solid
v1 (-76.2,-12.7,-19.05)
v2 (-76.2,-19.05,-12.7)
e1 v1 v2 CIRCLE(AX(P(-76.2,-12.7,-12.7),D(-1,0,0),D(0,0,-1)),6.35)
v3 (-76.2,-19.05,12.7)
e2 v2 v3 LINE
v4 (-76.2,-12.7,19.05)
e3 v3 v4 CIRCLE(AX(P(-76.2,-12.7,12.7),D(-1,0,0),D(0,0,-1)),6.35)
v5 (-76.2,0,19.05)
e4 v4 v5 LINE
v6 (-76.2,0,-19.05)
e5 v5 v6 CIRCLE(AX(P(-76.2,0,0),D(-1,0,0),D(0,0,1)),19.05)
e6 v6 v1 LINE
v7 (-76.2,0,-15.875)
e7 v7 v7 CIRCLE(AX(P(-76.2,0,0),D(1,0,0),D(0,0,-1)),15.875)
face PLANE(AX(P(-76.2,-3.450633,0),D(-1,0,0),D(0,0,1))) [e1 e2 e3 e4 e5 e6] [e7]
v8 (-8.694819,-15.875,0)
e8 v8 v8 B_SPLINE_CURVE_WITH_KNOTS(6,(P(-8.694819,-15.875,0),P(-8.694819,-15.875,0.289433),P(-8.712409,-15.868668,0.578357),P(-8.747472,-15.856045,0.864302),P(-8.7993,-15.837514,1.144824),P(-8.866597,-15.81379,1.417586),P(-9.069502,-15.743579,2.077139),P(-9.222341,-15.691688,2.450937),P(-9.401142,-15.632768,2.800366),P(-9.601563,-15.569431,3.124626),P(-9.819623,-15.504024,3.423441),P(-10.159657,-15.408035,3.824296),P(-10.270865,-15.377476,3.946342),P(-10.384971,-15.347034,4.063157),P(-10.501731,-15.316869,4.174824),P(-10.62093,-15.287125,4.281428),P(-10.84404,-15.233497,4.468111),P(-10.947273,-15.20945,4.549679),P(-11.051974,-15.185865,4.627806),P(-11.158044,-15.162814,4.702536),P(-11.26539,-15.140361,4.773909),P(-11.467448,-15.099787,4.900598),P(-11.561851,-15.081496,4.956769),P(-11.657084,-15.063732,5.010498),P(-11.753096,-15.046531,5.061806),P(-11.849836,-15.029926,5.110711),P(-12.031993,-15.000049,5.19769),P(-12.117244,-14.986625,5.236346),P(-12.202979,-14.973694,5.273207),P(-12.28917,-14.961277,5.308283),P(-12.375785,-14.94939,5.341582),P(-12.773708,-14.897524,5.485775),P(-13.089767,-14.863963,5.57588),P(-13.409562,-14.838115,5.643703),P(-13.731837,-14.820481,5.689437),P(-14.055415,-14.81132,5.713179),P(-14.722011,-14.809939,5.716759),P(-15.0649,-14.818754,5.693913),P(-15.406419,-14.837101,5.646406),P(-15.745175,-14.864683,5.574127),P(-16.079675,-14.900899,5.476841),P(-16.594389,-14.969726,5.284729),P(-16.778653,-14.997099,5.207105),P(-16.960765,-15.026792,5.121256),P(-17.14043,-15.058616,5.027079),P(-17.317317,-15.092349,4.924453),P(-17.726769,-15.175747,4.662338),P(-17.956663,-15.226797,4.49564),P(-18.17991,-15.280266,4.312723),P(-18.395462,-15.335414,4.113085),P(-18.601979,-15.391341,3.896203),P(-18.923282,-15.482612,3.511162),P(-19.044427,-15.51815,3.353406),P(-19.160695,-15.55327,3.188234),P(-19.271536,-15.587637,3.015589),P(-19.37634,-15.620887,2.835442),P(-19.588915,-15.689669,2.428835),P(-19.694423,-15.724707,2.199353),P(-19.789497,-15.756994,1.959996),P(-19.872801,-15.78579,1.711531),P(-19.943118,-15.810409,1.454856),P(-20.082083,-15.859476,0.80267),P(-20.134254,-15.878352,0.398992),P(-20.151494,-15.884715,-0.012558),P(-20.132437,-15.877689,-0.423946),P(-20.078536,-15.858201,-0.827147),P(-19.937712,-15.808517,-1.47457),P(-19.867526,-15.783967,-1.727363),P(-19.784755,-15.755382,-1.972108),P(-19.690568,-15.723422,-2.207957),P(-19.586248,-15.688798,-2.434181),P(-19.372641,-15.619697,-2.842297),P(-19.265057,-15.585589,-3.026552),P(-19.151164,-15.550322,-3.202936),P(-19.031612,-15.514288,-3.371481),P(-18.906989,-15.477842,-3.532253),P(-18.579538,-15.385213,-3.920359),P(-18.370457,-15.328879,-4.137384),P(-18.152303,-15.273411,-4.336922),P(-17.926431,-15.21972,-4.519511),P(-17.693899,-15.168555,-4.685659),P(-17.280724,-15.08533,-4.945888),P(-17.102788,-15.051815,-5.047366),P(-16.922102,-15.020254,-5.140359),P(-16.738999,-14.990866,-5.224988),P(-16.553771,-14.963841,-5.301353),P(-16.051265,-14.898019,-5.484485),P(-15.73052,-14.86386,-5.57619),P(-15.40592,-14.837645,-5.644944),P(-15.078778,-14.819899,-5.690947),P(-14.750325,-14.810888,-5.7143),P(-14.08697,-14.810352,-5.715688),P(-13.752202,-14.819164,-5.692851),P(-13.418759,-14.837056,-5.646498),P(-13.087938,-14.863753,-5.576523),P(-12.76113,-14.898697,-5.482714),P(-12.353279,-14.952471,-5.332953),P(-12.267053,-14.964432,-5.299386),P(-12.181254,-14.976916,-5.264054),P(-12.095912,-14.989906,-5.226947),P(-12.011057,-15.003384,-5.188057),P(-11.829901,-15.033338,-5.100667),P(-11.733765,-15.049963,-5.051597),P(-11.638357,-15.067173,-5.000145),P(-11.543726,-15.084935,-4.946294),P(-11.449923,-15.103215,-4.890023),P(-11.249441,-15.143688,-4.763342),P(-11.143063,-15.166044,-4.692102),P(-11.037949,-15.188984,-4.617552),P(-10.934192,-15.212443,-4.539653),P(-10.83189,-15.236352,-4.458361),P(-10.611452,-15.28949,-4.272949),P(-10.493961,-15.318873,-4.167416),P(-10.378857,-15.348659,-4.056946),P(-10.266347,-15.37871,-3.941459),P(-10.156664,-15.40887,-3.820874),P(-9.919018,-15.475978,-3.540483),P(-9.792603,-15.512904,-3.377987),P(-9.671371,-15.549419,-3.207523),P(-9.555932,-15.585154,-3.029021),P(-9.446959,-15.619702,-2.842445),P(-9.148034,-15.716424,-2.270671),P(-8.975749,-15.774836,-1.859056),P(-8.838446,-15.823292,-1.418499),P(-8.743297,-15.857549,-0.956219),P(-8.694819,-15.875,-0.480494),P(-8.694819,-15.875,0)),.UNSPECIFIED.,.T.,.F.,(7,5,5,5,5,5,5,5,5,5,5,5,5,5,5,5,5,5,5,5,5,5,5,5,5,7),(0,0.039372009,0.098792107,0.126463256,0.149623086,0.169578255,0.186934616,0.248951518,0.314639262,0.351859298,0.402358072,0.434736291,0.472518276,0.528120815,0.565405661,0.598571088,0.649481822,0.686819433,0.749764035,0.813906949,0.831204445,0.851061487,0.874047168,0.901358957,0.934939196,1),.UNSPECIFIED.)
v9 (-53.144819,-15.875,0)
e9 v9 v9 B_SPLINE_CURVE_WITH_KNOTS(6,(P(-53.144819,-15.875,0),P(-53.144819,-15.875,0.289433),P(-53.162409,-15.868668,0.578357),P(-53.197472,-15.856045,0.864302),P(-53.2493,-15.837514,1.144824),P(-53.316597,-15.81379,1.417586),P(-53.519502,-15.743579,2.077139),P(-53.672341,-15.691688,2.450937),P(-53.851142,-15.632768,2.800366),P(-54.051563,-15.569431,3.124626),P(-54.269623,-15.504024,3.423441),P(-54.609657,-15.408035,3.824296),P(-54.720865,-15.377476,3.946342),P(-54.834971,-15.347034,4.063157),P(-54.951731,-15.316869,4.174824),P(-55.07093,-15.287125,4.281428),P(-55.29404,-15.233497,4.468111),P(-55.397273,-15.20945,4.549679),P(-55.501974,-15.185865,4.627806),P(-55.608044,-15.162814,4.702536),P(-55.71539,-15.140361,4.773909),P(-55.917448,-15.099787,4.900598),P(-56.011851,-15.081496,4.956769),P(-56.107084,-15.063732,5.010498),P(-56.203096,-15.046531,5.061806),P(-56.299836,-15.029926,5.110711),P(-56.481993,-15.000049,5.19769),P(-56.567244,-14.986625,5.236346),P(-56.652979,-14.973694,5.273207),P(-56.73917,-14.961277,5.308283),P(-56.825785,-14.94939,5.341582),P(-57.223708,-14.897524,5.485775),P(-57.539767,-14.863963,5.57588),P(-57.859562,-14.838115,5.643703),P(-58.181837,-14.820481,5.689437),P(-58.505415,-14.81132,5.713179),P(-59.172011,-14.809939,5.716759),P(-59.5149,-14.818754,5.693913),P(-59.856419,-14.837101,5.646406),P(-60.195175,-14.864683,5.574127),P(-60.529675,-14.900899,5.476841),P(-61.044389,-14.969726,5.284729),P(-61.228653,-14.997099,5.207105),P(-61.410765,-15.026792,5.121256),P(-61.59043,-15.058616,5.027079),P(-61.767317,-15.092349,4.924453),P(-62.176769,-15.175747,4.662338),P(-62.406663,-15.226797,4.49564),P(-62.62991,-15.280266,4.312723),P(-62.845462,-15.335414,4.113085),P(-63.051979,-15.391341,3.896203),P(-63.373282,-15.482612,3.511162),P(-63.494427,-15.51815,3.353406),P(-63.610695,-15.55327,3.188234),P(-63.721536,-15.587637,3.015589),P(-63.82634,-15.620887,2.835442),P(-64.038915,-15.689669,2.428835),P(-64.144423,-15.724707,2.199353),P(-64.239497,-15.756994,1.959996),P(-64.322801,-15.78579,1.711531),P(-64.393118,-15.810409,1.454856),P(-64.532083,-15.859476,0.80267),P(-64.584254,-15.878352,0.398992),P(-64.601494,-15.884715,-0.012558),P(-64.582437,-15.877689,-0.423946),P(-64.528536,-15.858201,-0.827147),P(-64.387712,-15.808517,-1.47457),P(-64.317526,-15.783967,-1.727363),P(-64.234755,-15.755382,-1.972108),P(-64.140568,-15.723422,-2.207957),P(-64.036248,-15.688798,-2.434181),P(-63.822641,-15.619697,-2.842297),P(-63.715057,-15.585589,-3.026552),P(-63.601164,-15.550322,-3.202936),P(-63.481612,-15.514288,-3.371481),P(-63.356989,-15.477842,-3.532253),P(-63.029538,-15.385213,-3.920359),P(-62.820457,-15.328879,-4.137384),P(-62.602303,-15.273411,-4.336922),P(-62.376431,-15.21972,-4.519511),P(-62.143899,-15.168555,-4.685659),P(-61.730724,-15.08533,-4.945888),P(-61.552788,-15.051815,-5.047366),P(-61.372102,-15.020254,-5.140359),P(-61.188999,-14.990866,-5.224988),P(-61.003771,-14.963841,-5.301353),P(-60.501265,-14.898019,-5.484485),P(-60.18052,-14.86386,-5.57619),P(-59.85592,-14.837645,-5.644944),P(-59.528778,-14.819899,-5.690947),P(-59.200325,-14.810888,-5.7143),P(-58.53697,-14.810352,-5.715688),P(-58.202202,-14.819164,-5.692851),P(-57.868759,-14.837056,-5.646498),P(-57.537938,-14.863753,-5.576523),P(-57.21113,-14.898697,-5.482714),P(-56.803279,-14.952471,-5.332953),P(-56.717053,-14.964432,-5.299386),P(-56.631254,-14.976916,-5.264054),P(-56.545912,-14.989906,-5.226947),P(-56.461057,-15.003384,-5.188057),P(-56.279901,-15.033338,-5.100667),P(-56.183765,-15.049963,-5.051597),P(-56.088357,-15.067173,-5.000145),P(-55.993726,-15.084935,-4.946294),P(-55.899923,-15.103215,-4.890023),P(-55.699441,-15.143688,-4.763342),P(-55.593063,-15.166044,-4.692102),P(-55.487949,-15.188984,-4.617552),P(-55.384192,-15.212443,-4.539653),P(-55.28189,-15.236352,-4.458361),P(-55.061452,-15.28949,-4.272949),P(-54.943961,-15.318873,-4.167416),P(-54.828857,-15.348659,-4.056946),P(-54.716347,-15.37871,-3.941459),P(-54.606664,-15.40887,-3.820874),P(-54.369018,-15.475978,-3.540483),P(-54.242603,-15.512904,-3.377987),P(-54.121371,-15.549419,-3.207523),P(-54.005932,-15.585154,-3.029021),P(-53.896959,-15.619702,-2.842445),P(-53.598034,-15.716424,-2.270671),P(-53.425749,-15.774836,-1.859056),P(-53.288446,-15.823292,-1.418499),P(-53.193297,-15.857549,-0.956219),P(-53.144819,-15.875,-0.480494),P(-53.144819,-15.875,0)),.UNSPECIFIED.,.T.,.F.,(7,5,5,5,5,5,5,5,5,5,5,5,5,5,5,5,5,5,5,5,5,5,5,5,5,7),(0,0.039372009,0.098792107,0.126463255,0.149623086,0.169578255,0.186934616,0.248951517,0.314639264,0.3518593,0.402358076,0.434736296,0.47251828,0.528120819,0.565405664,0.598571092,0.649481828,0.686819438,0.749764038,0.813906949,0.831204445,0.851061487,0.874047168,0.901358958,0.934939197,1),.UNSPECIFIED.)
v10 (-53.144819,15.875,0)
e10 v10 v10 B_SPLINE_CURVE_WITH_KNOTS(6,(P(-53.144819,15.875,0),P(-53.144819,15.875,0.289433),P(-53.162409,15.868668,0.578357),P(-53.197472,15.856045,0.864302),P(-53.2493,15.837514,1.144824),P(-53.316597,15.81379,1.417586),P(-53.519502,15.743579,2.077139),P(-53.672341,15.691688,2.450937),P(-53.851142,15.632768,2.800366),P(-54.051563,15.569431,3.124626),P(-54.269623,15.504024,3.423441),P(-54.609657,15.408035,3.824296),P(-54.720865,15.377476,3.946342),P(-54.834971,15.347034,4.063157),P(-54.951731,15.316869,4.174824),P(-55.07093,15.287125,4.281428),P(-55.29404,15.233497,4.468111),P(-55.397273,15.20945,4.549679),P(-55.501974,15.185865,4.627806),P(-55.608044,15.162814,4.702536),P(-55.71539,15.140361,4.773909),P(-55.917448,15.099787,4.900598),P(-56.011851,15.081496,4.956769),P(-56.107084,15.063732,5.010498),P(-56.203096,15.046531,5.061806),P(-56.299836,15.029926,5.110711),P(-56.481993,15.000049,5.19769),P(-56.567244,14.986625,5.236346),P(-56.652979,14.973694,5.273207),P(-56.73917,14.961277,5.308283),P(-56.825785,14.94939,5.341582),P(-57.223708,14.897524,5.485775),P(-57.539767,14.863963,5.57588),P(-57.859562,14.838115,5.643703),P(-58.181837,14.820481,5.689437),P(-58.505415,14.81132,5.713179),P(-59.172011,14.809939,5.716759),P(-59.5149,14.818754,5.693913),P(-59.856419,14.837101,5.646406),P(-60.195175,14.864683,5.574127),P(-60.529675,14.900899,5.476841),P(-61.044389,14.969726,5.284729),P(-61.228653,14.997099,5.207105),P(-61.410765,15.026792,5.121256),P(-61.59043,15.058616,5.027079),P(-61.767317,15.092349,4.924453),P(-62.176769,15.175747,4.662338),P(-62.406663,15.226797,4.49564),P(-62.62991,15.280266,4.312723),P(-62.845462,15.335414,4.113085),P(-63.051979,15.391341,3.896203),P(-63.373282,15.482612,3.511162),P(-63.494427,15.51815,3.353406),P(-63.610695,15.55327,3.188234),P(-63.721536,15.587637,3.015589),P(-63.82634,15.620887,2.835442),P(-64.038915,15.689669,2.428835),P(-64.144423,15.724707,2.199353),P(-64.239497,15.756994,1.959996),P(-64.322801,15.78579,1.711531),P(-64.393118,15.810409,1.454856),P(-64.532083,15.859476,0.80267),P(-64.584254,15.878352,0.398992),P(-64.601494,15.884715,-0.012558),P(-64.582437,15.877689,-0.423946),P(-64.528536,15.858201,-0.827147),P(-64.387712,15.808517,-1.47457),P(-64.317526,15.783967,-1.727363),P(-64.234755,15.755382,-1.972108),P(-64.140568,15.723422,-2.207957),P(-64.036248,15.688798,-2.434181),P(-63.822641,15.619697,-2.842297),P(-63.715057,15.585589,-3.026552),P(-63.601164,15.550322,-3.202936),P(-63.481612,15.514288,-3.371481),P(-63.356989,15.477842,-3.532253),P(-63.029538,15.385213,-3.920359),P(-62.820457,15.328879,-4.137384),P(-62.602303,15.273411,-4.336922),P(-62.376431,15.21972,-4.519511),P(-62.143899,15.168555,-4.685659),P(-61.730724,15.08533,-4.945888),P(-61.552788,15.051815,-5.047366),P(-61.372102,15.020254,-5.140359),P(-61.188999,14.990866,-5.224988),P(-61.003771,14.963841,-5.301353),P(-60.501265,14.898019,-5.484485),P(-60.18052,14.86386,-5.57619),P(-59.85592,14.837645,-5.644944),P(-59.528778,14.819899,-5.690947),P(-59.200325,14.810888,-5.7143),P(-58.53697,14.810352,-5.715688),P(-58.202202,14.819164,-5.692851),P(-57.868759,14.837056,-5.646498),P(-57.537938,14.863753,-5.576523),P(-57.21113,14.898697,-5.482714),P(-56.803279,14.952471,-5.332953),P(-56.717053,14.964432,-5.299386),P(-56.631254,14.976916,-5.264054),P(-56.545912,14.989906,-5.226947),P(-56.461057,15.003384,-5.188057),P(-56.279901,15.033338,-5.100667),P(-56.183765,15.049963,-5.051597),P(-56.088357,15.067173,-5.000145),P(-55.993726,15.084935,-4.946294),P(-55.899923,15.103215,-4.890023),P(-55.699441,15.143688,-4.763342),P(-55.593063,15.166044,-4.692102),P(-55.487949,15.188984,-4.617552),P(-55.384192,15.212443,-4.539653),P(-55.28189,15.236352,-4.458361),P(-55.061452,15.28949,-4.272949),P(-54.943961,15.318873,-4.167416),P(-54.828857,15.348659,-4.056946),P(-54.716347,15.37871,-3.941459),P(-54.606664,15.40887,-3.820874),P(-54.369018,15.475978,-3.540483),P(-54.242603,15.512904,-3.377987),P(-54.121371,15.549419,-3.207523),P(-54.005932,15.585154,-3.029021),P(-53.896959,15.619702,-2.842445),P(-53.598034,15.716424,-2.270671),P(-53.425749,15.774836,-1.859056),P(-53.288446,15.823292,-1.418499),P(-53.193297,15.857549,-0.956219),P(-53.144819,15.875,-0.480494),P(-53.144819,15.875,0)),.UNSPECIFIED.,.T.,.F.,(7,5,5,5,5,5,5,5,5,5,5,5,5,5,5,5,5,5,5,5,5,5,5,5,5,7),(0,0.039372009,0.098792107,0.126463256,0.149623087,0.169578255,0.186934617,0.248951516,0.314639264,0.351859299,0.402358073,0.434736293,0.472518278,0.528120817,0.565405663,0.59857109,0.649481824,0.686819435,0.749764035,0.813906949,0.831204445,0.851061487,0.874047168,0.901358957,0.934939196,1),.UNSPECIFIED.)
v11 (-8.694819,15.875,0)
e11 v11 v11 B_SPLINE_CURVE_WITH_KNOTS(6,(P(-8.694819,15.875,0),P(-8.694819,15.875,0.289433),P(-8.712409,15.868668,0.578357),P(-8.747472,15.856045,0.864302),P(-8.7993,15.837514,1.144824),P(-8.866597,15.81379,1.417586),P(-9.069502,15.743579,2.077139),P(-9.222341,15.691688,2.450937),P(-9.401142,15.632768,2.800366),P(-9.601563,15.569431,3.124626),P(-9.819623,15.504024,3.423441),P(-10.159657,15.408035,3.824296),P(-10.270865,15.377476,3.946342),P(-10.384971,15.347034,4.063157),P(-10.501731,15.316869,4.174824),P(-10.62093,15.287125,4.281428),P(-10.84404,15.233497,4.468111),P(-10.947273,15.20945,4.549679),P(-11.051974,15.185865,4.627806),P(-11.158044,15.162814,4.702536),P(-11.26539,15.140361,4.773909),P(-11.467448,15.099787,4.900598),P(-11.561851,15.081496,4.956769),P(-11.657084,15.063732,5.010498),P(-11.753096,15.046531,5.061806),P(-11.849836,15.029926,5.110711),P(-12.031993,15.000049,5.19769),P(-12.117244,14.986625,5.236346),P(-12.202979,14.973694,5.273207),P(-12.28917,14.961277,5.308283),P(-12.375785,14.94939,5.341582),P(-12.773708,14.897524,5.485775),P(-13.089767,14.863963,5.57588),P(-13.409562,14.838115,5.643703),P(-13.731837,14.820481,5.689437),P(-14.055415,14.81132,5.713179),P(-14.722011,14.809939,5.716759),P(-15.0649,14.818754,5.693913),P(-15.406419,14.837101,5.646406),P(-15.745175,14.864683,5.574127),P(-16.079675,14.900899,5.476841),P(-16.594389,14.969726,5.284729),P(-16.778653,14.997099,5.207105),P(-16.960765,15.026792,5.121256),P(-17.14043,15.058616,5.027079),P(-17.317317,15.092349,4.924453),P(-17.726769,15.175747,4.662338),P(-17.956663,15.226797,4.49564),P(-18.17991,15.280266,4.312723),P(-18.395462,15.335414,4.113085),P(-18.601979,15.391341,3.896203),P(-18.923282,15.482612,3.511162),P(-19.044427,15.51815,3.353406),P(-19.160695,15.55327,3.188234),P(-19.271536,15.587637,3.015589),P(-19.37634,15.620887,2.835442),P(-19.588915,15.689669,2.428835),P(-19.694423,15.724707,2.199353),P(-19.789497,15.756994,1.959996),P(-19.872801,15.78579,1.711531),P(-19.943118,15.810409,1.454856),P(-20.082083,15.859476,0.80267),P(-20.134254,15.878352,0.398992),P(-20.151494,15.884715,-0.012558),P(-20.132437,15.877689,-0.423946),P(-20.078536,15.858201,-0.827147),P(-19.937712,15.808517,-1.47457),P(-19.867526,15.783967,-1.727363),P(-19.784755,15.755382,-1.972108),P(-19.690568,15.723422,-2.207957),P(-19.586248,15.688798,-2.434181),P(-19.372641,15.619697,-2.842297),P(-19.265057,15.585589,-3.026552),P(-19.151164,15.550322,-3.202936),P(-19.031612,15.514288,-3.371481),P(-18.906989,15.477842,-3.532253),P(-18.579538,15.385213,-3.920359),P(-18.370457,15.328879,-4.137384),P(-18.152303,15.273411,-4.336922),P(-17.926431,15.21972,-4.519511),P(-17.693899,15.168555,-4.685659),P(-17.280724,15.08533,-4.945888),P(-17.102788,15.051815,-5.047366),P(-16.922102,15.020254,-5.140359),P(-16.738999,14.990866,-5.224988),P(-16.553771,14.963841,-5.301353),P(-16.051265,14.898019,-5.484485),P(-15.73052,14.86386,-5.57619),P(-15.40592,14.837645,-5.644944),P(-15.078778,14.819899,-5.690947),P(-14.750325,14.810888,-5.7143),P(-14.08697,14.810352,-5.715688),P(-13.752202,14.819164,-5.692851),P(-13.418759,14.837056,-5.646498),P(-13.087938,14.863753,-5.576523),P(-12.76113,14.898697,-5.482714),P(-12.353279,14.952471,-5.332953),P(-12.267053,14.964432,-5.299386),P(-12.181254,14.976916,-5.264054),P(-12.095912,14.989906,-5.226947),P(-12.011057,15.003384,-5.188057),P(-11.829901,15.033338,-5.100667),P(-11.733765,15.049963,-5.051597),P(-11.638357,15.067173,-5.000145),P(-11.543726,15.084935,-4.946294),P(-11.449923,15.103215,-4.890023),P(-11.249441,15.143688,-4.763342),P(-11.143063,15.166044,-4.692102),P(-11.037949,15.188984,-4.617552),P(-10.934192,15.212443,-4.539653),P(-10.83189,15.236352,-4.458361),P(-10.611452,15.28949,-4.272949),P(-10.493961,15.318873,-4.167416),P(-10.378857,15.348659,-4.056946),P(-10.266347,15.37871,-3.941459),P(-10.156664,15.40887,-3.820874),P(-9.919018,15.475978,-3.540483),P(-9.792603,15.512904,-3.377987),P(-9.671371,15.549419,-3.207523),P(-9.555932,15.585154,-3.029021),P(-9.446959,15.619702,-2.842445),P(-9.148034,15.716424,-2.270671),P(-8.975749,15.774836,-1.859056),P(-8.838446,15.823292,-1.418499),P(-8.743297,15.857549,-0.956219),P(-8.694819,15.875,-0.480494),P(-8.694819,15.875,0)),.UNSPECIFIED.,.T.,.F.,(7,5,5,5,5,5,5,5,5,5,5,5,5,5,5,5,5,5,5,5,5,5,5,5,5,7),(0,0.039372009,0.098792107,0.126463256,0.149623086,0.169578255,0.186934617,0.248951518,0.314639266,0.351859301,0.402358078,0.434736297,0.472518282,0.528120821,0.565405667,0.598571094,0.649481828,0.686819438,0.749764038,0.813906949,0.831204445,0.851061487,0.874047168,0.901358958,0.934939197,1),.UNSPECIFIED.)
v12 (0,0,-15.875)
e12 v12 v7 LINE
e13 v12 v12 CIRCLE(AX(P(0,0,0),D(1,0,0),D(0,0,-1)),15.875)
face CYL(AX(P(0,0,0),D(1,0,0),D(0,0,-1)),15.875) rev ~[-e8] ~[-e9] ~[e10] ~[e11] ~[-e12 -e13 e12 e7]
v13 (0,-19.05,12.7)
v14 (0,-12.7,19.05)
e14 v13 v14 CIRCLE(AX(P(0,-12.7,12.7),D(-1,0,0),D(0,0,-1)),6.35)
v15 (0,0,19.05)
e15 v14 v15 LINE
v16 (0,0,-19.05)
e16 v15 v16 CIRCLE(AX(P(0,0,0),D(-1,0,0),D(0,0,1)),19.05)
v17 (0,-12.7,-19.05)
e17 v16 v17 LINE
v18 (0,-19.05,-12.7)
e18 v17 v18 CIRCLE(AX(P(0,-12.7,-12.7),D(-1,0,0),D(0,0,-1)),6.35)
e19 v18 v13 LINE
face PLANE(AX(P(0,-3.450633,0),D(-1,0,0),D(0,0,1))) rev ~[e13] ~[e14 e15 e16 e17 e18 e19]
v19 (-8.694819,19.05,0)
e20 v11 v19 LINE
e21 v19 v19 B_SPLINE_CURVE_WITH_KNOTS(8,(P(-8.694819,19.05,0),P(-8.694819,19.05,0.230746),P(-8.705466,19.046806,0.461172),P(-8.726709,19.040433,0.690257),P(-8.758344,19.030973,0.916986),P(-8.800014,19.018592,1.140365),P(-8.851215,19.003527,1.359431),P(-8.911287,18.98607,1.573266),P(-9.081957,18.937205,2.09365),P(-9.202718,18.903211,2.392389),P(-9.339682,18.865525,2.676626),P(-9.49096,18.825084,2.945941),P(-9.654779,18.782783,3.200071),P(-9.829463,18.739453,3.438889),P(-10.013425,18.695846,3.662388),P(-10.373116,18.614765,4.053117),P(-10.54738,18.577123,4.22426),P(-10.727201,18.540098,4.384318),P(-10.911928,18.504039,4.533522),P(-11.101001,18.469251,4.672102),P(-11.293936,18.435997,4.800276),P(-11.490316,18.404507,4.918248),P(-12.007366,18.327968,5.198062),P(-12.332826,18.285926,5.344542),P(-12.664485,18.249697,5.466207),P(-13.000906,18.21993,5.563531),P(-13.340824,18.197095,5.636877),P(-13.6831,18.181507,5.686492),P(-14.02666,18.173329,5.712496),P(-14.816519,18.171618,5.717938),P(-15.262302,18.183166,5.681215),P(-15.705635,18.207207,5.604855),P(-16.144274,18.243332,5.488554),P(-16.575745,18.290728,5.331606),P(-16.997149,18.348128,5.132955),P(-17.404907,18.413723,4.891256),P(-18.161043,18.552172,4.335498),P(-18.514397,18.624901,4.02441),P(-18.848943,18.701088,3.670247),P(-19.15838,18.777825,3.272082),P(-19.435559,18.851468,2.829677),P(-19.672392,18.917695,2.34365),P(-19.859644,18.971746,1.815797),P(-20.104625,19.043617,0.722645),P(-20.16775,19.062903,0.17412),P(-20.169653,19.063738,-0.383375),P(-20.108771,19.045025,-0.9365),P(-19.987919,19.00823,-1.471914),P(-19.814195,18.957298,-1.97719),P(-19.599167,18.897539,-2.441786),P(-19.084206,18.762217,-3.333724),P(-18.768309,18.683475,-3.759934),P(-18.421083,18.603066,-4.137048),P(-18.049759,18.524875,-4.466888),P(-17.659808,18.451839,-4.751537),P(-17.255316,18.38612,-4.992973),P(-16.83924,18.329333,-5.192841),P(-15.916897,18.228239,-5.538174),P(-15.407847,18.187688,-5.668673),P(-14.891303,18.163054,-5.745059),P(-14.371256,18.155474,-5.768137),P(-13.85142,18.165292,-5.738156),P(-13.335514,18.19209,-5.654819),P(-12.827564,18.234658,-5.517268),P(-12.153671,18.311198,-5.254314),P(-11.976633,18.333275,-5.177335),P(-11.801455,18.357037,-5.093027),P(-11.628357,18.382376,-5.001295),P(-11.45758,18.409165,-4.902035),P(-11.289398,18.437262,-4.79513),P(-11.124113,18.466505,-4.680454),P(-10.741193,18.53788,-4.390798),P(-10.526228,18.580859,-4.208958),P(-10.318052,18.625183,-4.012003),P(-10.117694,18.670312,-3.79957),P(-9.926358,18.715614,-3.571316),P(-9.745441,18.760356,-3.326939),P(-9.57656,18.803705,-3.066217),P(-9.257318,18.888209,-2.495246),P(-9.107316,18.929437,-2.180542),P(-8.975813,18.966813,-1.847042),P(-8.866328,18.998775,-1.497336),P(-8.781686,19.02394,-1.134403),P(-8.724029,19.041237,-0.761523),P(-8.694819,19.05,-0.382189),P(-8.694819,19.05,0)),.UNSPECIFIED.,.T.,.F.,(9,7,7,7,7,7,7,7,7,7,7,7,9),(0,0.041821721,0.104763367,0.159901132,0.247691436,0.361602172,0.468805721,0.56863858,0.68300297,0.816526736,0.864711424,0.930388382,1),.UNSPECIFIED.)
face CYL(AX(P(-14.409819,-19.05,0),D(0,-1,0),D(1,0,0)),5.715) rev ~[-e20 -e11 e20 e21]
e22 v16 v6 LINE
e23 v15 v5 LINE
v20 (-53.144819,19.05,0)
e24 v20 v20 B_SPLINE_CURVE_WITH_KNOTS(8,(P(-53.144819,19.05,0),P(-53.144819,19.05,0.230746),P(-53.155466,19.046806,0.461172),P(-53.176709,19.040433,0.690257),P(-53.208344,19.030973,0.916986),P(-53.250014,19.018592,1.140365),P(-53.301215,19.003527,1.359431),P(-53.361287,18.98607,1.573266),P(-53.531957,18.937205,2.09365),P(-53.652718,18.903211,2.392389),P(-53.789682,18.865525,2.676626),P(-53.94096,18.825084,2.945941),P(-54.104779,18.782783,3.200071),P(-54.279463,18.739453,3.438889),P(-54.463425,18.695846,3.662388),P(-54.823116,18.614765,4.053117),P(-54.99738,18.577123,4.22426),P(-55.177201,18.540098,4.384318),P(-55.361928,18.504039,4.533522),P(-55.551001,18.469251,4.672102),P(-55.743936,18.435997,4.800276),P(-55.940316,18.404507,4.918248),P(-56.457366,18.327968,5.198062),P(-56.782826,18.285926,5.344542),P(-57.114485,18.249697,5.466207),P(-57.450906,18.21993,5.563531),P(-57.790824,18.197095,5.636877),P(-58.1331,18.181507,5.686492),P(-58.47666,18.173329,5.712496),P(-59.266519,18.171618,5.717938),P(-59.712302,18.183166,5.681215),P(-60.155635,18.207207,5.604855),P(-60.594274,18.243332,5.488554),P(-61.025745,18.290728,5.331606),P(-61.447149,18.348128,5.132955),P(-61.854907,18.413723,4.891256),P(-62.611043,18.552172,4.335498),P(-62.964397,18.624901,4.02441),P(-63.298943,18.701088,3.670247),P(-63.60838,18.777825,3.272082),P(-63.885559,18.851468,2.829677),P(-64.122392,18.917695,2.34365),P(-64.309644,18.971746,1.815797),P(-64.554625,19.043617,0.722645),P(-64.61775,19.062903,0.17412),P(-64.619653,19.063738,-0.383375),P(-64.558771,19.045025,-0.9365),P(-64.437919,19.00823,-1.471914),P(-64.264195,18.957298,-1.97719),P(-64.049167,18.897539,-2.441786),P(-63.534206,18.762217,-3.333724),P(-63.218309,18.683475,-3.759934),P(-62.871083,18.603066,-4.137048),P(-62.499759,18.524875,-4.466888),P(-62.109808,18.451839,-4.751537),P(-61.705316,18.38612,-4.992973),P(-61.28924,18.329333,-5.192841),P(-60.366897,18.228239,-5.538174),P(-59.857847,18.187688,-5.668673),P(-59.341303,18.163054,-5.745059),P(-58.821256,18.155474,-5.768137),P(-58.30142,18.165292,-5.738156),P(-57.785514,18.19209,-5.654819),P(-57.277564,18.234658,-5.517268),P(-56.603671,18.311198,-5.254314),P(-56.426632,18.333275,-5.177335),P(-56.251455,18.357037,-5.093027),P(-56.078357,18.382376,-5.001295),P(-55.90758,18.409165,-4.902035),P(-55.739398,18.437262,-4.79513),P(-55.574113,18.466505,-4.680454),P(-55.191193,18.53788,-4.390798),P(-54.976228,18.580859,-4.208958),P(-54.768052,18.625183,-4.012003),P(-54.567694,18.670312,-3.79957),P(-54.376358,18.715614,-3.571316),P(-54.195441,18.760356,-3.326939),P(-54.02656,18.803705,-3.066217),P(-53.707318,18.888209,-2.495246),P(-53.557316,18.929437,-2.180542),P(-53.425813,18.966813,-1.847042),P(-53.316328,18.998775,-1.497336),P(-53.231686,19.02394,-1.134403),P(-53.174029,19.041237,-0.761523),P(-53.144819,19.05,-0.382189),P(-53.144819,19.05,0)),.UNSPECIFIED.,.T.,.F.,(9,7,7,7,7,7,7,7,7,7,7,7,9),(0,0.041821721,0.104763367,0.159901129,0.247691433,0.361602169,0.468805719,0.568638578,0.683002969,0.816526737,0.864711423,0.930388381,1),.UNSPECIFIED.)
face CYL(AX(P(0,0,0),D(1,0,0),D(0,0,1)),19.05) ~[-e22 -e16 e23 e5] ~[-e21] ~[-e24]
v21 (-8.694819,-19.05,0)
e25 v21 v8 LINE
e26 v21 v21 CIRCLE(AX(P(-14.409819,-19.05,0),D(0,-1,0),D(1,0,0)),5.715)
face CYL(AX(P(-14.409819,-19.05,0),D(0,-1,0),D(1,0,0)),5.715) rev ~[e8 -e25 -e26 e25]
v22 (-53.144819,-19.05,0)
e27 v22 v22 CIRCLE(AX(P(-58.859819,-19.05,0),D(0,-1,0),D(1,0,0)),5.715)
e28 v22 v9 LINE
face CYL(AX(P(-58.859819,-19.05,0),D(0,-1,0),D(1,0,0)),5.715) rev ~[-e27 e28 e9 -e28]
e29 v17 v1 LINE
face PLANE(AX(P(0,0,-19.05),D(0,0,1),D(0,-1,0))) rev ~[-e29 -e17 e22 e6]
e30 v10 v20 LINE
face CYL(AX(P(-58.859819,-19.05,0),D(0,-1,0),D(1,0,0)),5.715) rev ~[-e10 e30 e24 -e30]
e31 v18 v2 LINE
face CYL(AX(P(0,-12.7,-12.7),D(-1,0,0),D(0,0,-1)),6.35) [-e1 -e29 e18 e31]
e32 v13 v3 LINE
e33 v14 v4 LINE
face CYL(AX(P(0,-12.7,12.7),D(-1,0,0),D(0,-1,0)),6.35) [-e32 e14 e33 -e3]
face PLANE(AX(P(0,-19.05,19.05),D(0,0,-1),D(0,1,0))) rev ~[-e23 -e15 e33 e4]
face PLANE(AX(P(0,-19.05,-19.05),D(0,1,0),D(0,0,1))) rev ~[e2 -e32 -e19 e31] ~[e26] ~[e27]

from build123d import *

# Parameters (mm, degrees)
BASE_EXTRUDE_DEPTH = 76.2
SKETCH3_R          = 15.875
CUT_EXTRUDE2_DEPTH = 81.82230509
SKETCH2_R          = 5.715
CUT_EXTRUDE1_DEPTH = 88.298066989
FILLET1_R          = 6.35


with BuildPart() as part:
    # Sketch1 → Base-Extrude (new body)
    with BuildSketch(Plane(origin=(0, 0, 0), x_dir=(0, 0, -1), z_dir=(1, 0, 0))):
        with BuildLine():
            Line((19.05, 0), (19.05, -19.05))
            Line((19.05, -19.05), (-19.05, -19.05))
            Line((-19.05, -19.05), (-19.05, 0))
            ThreePointArc((-19.05, 0), (0, 19.05), (19.05, 0))
        make_face()
    extrude(amount=-BASE_EXTRUDE_DEPTH)

    # Sketch3 → Cut-Extrude2 (cut, through all)
    with BuildSketch(Plane(origin=(0, 0, 0), x_dir=(0, 0, -1), z_dir=(1, 0, 0))):
        Circle(SKETCH3_R)
    extrude(amount=-CUT_EXTRUDE2_DEPTH, mode=Mode.SUBTRACT)

    # Sketch2 → Cut-Extrude1 (cut, through all)
    with BuildSketch(Plane.XZ.offset(19.05)):
        with Locations((-14.409818925, 0)):
            Circle(SKETCH2_R)
        with Locations((-58.859818925, 0)):
            Circle(SKETCH2_R)
    extrude(amount=-CUT_EXTRUDE1_DEPTH, mode=Mode.SUBTRACT)

    # Fillet1
    fillet1_edges = [part.edges().sort_by_distance(p)[0] for p in [
        (-38.1, -19.05, 19.05),
        (-38.1, -19.05, -19.05),
    ]]
    fillet(fillet1_edges, radius=FILLET1_R)


solid = part.part
